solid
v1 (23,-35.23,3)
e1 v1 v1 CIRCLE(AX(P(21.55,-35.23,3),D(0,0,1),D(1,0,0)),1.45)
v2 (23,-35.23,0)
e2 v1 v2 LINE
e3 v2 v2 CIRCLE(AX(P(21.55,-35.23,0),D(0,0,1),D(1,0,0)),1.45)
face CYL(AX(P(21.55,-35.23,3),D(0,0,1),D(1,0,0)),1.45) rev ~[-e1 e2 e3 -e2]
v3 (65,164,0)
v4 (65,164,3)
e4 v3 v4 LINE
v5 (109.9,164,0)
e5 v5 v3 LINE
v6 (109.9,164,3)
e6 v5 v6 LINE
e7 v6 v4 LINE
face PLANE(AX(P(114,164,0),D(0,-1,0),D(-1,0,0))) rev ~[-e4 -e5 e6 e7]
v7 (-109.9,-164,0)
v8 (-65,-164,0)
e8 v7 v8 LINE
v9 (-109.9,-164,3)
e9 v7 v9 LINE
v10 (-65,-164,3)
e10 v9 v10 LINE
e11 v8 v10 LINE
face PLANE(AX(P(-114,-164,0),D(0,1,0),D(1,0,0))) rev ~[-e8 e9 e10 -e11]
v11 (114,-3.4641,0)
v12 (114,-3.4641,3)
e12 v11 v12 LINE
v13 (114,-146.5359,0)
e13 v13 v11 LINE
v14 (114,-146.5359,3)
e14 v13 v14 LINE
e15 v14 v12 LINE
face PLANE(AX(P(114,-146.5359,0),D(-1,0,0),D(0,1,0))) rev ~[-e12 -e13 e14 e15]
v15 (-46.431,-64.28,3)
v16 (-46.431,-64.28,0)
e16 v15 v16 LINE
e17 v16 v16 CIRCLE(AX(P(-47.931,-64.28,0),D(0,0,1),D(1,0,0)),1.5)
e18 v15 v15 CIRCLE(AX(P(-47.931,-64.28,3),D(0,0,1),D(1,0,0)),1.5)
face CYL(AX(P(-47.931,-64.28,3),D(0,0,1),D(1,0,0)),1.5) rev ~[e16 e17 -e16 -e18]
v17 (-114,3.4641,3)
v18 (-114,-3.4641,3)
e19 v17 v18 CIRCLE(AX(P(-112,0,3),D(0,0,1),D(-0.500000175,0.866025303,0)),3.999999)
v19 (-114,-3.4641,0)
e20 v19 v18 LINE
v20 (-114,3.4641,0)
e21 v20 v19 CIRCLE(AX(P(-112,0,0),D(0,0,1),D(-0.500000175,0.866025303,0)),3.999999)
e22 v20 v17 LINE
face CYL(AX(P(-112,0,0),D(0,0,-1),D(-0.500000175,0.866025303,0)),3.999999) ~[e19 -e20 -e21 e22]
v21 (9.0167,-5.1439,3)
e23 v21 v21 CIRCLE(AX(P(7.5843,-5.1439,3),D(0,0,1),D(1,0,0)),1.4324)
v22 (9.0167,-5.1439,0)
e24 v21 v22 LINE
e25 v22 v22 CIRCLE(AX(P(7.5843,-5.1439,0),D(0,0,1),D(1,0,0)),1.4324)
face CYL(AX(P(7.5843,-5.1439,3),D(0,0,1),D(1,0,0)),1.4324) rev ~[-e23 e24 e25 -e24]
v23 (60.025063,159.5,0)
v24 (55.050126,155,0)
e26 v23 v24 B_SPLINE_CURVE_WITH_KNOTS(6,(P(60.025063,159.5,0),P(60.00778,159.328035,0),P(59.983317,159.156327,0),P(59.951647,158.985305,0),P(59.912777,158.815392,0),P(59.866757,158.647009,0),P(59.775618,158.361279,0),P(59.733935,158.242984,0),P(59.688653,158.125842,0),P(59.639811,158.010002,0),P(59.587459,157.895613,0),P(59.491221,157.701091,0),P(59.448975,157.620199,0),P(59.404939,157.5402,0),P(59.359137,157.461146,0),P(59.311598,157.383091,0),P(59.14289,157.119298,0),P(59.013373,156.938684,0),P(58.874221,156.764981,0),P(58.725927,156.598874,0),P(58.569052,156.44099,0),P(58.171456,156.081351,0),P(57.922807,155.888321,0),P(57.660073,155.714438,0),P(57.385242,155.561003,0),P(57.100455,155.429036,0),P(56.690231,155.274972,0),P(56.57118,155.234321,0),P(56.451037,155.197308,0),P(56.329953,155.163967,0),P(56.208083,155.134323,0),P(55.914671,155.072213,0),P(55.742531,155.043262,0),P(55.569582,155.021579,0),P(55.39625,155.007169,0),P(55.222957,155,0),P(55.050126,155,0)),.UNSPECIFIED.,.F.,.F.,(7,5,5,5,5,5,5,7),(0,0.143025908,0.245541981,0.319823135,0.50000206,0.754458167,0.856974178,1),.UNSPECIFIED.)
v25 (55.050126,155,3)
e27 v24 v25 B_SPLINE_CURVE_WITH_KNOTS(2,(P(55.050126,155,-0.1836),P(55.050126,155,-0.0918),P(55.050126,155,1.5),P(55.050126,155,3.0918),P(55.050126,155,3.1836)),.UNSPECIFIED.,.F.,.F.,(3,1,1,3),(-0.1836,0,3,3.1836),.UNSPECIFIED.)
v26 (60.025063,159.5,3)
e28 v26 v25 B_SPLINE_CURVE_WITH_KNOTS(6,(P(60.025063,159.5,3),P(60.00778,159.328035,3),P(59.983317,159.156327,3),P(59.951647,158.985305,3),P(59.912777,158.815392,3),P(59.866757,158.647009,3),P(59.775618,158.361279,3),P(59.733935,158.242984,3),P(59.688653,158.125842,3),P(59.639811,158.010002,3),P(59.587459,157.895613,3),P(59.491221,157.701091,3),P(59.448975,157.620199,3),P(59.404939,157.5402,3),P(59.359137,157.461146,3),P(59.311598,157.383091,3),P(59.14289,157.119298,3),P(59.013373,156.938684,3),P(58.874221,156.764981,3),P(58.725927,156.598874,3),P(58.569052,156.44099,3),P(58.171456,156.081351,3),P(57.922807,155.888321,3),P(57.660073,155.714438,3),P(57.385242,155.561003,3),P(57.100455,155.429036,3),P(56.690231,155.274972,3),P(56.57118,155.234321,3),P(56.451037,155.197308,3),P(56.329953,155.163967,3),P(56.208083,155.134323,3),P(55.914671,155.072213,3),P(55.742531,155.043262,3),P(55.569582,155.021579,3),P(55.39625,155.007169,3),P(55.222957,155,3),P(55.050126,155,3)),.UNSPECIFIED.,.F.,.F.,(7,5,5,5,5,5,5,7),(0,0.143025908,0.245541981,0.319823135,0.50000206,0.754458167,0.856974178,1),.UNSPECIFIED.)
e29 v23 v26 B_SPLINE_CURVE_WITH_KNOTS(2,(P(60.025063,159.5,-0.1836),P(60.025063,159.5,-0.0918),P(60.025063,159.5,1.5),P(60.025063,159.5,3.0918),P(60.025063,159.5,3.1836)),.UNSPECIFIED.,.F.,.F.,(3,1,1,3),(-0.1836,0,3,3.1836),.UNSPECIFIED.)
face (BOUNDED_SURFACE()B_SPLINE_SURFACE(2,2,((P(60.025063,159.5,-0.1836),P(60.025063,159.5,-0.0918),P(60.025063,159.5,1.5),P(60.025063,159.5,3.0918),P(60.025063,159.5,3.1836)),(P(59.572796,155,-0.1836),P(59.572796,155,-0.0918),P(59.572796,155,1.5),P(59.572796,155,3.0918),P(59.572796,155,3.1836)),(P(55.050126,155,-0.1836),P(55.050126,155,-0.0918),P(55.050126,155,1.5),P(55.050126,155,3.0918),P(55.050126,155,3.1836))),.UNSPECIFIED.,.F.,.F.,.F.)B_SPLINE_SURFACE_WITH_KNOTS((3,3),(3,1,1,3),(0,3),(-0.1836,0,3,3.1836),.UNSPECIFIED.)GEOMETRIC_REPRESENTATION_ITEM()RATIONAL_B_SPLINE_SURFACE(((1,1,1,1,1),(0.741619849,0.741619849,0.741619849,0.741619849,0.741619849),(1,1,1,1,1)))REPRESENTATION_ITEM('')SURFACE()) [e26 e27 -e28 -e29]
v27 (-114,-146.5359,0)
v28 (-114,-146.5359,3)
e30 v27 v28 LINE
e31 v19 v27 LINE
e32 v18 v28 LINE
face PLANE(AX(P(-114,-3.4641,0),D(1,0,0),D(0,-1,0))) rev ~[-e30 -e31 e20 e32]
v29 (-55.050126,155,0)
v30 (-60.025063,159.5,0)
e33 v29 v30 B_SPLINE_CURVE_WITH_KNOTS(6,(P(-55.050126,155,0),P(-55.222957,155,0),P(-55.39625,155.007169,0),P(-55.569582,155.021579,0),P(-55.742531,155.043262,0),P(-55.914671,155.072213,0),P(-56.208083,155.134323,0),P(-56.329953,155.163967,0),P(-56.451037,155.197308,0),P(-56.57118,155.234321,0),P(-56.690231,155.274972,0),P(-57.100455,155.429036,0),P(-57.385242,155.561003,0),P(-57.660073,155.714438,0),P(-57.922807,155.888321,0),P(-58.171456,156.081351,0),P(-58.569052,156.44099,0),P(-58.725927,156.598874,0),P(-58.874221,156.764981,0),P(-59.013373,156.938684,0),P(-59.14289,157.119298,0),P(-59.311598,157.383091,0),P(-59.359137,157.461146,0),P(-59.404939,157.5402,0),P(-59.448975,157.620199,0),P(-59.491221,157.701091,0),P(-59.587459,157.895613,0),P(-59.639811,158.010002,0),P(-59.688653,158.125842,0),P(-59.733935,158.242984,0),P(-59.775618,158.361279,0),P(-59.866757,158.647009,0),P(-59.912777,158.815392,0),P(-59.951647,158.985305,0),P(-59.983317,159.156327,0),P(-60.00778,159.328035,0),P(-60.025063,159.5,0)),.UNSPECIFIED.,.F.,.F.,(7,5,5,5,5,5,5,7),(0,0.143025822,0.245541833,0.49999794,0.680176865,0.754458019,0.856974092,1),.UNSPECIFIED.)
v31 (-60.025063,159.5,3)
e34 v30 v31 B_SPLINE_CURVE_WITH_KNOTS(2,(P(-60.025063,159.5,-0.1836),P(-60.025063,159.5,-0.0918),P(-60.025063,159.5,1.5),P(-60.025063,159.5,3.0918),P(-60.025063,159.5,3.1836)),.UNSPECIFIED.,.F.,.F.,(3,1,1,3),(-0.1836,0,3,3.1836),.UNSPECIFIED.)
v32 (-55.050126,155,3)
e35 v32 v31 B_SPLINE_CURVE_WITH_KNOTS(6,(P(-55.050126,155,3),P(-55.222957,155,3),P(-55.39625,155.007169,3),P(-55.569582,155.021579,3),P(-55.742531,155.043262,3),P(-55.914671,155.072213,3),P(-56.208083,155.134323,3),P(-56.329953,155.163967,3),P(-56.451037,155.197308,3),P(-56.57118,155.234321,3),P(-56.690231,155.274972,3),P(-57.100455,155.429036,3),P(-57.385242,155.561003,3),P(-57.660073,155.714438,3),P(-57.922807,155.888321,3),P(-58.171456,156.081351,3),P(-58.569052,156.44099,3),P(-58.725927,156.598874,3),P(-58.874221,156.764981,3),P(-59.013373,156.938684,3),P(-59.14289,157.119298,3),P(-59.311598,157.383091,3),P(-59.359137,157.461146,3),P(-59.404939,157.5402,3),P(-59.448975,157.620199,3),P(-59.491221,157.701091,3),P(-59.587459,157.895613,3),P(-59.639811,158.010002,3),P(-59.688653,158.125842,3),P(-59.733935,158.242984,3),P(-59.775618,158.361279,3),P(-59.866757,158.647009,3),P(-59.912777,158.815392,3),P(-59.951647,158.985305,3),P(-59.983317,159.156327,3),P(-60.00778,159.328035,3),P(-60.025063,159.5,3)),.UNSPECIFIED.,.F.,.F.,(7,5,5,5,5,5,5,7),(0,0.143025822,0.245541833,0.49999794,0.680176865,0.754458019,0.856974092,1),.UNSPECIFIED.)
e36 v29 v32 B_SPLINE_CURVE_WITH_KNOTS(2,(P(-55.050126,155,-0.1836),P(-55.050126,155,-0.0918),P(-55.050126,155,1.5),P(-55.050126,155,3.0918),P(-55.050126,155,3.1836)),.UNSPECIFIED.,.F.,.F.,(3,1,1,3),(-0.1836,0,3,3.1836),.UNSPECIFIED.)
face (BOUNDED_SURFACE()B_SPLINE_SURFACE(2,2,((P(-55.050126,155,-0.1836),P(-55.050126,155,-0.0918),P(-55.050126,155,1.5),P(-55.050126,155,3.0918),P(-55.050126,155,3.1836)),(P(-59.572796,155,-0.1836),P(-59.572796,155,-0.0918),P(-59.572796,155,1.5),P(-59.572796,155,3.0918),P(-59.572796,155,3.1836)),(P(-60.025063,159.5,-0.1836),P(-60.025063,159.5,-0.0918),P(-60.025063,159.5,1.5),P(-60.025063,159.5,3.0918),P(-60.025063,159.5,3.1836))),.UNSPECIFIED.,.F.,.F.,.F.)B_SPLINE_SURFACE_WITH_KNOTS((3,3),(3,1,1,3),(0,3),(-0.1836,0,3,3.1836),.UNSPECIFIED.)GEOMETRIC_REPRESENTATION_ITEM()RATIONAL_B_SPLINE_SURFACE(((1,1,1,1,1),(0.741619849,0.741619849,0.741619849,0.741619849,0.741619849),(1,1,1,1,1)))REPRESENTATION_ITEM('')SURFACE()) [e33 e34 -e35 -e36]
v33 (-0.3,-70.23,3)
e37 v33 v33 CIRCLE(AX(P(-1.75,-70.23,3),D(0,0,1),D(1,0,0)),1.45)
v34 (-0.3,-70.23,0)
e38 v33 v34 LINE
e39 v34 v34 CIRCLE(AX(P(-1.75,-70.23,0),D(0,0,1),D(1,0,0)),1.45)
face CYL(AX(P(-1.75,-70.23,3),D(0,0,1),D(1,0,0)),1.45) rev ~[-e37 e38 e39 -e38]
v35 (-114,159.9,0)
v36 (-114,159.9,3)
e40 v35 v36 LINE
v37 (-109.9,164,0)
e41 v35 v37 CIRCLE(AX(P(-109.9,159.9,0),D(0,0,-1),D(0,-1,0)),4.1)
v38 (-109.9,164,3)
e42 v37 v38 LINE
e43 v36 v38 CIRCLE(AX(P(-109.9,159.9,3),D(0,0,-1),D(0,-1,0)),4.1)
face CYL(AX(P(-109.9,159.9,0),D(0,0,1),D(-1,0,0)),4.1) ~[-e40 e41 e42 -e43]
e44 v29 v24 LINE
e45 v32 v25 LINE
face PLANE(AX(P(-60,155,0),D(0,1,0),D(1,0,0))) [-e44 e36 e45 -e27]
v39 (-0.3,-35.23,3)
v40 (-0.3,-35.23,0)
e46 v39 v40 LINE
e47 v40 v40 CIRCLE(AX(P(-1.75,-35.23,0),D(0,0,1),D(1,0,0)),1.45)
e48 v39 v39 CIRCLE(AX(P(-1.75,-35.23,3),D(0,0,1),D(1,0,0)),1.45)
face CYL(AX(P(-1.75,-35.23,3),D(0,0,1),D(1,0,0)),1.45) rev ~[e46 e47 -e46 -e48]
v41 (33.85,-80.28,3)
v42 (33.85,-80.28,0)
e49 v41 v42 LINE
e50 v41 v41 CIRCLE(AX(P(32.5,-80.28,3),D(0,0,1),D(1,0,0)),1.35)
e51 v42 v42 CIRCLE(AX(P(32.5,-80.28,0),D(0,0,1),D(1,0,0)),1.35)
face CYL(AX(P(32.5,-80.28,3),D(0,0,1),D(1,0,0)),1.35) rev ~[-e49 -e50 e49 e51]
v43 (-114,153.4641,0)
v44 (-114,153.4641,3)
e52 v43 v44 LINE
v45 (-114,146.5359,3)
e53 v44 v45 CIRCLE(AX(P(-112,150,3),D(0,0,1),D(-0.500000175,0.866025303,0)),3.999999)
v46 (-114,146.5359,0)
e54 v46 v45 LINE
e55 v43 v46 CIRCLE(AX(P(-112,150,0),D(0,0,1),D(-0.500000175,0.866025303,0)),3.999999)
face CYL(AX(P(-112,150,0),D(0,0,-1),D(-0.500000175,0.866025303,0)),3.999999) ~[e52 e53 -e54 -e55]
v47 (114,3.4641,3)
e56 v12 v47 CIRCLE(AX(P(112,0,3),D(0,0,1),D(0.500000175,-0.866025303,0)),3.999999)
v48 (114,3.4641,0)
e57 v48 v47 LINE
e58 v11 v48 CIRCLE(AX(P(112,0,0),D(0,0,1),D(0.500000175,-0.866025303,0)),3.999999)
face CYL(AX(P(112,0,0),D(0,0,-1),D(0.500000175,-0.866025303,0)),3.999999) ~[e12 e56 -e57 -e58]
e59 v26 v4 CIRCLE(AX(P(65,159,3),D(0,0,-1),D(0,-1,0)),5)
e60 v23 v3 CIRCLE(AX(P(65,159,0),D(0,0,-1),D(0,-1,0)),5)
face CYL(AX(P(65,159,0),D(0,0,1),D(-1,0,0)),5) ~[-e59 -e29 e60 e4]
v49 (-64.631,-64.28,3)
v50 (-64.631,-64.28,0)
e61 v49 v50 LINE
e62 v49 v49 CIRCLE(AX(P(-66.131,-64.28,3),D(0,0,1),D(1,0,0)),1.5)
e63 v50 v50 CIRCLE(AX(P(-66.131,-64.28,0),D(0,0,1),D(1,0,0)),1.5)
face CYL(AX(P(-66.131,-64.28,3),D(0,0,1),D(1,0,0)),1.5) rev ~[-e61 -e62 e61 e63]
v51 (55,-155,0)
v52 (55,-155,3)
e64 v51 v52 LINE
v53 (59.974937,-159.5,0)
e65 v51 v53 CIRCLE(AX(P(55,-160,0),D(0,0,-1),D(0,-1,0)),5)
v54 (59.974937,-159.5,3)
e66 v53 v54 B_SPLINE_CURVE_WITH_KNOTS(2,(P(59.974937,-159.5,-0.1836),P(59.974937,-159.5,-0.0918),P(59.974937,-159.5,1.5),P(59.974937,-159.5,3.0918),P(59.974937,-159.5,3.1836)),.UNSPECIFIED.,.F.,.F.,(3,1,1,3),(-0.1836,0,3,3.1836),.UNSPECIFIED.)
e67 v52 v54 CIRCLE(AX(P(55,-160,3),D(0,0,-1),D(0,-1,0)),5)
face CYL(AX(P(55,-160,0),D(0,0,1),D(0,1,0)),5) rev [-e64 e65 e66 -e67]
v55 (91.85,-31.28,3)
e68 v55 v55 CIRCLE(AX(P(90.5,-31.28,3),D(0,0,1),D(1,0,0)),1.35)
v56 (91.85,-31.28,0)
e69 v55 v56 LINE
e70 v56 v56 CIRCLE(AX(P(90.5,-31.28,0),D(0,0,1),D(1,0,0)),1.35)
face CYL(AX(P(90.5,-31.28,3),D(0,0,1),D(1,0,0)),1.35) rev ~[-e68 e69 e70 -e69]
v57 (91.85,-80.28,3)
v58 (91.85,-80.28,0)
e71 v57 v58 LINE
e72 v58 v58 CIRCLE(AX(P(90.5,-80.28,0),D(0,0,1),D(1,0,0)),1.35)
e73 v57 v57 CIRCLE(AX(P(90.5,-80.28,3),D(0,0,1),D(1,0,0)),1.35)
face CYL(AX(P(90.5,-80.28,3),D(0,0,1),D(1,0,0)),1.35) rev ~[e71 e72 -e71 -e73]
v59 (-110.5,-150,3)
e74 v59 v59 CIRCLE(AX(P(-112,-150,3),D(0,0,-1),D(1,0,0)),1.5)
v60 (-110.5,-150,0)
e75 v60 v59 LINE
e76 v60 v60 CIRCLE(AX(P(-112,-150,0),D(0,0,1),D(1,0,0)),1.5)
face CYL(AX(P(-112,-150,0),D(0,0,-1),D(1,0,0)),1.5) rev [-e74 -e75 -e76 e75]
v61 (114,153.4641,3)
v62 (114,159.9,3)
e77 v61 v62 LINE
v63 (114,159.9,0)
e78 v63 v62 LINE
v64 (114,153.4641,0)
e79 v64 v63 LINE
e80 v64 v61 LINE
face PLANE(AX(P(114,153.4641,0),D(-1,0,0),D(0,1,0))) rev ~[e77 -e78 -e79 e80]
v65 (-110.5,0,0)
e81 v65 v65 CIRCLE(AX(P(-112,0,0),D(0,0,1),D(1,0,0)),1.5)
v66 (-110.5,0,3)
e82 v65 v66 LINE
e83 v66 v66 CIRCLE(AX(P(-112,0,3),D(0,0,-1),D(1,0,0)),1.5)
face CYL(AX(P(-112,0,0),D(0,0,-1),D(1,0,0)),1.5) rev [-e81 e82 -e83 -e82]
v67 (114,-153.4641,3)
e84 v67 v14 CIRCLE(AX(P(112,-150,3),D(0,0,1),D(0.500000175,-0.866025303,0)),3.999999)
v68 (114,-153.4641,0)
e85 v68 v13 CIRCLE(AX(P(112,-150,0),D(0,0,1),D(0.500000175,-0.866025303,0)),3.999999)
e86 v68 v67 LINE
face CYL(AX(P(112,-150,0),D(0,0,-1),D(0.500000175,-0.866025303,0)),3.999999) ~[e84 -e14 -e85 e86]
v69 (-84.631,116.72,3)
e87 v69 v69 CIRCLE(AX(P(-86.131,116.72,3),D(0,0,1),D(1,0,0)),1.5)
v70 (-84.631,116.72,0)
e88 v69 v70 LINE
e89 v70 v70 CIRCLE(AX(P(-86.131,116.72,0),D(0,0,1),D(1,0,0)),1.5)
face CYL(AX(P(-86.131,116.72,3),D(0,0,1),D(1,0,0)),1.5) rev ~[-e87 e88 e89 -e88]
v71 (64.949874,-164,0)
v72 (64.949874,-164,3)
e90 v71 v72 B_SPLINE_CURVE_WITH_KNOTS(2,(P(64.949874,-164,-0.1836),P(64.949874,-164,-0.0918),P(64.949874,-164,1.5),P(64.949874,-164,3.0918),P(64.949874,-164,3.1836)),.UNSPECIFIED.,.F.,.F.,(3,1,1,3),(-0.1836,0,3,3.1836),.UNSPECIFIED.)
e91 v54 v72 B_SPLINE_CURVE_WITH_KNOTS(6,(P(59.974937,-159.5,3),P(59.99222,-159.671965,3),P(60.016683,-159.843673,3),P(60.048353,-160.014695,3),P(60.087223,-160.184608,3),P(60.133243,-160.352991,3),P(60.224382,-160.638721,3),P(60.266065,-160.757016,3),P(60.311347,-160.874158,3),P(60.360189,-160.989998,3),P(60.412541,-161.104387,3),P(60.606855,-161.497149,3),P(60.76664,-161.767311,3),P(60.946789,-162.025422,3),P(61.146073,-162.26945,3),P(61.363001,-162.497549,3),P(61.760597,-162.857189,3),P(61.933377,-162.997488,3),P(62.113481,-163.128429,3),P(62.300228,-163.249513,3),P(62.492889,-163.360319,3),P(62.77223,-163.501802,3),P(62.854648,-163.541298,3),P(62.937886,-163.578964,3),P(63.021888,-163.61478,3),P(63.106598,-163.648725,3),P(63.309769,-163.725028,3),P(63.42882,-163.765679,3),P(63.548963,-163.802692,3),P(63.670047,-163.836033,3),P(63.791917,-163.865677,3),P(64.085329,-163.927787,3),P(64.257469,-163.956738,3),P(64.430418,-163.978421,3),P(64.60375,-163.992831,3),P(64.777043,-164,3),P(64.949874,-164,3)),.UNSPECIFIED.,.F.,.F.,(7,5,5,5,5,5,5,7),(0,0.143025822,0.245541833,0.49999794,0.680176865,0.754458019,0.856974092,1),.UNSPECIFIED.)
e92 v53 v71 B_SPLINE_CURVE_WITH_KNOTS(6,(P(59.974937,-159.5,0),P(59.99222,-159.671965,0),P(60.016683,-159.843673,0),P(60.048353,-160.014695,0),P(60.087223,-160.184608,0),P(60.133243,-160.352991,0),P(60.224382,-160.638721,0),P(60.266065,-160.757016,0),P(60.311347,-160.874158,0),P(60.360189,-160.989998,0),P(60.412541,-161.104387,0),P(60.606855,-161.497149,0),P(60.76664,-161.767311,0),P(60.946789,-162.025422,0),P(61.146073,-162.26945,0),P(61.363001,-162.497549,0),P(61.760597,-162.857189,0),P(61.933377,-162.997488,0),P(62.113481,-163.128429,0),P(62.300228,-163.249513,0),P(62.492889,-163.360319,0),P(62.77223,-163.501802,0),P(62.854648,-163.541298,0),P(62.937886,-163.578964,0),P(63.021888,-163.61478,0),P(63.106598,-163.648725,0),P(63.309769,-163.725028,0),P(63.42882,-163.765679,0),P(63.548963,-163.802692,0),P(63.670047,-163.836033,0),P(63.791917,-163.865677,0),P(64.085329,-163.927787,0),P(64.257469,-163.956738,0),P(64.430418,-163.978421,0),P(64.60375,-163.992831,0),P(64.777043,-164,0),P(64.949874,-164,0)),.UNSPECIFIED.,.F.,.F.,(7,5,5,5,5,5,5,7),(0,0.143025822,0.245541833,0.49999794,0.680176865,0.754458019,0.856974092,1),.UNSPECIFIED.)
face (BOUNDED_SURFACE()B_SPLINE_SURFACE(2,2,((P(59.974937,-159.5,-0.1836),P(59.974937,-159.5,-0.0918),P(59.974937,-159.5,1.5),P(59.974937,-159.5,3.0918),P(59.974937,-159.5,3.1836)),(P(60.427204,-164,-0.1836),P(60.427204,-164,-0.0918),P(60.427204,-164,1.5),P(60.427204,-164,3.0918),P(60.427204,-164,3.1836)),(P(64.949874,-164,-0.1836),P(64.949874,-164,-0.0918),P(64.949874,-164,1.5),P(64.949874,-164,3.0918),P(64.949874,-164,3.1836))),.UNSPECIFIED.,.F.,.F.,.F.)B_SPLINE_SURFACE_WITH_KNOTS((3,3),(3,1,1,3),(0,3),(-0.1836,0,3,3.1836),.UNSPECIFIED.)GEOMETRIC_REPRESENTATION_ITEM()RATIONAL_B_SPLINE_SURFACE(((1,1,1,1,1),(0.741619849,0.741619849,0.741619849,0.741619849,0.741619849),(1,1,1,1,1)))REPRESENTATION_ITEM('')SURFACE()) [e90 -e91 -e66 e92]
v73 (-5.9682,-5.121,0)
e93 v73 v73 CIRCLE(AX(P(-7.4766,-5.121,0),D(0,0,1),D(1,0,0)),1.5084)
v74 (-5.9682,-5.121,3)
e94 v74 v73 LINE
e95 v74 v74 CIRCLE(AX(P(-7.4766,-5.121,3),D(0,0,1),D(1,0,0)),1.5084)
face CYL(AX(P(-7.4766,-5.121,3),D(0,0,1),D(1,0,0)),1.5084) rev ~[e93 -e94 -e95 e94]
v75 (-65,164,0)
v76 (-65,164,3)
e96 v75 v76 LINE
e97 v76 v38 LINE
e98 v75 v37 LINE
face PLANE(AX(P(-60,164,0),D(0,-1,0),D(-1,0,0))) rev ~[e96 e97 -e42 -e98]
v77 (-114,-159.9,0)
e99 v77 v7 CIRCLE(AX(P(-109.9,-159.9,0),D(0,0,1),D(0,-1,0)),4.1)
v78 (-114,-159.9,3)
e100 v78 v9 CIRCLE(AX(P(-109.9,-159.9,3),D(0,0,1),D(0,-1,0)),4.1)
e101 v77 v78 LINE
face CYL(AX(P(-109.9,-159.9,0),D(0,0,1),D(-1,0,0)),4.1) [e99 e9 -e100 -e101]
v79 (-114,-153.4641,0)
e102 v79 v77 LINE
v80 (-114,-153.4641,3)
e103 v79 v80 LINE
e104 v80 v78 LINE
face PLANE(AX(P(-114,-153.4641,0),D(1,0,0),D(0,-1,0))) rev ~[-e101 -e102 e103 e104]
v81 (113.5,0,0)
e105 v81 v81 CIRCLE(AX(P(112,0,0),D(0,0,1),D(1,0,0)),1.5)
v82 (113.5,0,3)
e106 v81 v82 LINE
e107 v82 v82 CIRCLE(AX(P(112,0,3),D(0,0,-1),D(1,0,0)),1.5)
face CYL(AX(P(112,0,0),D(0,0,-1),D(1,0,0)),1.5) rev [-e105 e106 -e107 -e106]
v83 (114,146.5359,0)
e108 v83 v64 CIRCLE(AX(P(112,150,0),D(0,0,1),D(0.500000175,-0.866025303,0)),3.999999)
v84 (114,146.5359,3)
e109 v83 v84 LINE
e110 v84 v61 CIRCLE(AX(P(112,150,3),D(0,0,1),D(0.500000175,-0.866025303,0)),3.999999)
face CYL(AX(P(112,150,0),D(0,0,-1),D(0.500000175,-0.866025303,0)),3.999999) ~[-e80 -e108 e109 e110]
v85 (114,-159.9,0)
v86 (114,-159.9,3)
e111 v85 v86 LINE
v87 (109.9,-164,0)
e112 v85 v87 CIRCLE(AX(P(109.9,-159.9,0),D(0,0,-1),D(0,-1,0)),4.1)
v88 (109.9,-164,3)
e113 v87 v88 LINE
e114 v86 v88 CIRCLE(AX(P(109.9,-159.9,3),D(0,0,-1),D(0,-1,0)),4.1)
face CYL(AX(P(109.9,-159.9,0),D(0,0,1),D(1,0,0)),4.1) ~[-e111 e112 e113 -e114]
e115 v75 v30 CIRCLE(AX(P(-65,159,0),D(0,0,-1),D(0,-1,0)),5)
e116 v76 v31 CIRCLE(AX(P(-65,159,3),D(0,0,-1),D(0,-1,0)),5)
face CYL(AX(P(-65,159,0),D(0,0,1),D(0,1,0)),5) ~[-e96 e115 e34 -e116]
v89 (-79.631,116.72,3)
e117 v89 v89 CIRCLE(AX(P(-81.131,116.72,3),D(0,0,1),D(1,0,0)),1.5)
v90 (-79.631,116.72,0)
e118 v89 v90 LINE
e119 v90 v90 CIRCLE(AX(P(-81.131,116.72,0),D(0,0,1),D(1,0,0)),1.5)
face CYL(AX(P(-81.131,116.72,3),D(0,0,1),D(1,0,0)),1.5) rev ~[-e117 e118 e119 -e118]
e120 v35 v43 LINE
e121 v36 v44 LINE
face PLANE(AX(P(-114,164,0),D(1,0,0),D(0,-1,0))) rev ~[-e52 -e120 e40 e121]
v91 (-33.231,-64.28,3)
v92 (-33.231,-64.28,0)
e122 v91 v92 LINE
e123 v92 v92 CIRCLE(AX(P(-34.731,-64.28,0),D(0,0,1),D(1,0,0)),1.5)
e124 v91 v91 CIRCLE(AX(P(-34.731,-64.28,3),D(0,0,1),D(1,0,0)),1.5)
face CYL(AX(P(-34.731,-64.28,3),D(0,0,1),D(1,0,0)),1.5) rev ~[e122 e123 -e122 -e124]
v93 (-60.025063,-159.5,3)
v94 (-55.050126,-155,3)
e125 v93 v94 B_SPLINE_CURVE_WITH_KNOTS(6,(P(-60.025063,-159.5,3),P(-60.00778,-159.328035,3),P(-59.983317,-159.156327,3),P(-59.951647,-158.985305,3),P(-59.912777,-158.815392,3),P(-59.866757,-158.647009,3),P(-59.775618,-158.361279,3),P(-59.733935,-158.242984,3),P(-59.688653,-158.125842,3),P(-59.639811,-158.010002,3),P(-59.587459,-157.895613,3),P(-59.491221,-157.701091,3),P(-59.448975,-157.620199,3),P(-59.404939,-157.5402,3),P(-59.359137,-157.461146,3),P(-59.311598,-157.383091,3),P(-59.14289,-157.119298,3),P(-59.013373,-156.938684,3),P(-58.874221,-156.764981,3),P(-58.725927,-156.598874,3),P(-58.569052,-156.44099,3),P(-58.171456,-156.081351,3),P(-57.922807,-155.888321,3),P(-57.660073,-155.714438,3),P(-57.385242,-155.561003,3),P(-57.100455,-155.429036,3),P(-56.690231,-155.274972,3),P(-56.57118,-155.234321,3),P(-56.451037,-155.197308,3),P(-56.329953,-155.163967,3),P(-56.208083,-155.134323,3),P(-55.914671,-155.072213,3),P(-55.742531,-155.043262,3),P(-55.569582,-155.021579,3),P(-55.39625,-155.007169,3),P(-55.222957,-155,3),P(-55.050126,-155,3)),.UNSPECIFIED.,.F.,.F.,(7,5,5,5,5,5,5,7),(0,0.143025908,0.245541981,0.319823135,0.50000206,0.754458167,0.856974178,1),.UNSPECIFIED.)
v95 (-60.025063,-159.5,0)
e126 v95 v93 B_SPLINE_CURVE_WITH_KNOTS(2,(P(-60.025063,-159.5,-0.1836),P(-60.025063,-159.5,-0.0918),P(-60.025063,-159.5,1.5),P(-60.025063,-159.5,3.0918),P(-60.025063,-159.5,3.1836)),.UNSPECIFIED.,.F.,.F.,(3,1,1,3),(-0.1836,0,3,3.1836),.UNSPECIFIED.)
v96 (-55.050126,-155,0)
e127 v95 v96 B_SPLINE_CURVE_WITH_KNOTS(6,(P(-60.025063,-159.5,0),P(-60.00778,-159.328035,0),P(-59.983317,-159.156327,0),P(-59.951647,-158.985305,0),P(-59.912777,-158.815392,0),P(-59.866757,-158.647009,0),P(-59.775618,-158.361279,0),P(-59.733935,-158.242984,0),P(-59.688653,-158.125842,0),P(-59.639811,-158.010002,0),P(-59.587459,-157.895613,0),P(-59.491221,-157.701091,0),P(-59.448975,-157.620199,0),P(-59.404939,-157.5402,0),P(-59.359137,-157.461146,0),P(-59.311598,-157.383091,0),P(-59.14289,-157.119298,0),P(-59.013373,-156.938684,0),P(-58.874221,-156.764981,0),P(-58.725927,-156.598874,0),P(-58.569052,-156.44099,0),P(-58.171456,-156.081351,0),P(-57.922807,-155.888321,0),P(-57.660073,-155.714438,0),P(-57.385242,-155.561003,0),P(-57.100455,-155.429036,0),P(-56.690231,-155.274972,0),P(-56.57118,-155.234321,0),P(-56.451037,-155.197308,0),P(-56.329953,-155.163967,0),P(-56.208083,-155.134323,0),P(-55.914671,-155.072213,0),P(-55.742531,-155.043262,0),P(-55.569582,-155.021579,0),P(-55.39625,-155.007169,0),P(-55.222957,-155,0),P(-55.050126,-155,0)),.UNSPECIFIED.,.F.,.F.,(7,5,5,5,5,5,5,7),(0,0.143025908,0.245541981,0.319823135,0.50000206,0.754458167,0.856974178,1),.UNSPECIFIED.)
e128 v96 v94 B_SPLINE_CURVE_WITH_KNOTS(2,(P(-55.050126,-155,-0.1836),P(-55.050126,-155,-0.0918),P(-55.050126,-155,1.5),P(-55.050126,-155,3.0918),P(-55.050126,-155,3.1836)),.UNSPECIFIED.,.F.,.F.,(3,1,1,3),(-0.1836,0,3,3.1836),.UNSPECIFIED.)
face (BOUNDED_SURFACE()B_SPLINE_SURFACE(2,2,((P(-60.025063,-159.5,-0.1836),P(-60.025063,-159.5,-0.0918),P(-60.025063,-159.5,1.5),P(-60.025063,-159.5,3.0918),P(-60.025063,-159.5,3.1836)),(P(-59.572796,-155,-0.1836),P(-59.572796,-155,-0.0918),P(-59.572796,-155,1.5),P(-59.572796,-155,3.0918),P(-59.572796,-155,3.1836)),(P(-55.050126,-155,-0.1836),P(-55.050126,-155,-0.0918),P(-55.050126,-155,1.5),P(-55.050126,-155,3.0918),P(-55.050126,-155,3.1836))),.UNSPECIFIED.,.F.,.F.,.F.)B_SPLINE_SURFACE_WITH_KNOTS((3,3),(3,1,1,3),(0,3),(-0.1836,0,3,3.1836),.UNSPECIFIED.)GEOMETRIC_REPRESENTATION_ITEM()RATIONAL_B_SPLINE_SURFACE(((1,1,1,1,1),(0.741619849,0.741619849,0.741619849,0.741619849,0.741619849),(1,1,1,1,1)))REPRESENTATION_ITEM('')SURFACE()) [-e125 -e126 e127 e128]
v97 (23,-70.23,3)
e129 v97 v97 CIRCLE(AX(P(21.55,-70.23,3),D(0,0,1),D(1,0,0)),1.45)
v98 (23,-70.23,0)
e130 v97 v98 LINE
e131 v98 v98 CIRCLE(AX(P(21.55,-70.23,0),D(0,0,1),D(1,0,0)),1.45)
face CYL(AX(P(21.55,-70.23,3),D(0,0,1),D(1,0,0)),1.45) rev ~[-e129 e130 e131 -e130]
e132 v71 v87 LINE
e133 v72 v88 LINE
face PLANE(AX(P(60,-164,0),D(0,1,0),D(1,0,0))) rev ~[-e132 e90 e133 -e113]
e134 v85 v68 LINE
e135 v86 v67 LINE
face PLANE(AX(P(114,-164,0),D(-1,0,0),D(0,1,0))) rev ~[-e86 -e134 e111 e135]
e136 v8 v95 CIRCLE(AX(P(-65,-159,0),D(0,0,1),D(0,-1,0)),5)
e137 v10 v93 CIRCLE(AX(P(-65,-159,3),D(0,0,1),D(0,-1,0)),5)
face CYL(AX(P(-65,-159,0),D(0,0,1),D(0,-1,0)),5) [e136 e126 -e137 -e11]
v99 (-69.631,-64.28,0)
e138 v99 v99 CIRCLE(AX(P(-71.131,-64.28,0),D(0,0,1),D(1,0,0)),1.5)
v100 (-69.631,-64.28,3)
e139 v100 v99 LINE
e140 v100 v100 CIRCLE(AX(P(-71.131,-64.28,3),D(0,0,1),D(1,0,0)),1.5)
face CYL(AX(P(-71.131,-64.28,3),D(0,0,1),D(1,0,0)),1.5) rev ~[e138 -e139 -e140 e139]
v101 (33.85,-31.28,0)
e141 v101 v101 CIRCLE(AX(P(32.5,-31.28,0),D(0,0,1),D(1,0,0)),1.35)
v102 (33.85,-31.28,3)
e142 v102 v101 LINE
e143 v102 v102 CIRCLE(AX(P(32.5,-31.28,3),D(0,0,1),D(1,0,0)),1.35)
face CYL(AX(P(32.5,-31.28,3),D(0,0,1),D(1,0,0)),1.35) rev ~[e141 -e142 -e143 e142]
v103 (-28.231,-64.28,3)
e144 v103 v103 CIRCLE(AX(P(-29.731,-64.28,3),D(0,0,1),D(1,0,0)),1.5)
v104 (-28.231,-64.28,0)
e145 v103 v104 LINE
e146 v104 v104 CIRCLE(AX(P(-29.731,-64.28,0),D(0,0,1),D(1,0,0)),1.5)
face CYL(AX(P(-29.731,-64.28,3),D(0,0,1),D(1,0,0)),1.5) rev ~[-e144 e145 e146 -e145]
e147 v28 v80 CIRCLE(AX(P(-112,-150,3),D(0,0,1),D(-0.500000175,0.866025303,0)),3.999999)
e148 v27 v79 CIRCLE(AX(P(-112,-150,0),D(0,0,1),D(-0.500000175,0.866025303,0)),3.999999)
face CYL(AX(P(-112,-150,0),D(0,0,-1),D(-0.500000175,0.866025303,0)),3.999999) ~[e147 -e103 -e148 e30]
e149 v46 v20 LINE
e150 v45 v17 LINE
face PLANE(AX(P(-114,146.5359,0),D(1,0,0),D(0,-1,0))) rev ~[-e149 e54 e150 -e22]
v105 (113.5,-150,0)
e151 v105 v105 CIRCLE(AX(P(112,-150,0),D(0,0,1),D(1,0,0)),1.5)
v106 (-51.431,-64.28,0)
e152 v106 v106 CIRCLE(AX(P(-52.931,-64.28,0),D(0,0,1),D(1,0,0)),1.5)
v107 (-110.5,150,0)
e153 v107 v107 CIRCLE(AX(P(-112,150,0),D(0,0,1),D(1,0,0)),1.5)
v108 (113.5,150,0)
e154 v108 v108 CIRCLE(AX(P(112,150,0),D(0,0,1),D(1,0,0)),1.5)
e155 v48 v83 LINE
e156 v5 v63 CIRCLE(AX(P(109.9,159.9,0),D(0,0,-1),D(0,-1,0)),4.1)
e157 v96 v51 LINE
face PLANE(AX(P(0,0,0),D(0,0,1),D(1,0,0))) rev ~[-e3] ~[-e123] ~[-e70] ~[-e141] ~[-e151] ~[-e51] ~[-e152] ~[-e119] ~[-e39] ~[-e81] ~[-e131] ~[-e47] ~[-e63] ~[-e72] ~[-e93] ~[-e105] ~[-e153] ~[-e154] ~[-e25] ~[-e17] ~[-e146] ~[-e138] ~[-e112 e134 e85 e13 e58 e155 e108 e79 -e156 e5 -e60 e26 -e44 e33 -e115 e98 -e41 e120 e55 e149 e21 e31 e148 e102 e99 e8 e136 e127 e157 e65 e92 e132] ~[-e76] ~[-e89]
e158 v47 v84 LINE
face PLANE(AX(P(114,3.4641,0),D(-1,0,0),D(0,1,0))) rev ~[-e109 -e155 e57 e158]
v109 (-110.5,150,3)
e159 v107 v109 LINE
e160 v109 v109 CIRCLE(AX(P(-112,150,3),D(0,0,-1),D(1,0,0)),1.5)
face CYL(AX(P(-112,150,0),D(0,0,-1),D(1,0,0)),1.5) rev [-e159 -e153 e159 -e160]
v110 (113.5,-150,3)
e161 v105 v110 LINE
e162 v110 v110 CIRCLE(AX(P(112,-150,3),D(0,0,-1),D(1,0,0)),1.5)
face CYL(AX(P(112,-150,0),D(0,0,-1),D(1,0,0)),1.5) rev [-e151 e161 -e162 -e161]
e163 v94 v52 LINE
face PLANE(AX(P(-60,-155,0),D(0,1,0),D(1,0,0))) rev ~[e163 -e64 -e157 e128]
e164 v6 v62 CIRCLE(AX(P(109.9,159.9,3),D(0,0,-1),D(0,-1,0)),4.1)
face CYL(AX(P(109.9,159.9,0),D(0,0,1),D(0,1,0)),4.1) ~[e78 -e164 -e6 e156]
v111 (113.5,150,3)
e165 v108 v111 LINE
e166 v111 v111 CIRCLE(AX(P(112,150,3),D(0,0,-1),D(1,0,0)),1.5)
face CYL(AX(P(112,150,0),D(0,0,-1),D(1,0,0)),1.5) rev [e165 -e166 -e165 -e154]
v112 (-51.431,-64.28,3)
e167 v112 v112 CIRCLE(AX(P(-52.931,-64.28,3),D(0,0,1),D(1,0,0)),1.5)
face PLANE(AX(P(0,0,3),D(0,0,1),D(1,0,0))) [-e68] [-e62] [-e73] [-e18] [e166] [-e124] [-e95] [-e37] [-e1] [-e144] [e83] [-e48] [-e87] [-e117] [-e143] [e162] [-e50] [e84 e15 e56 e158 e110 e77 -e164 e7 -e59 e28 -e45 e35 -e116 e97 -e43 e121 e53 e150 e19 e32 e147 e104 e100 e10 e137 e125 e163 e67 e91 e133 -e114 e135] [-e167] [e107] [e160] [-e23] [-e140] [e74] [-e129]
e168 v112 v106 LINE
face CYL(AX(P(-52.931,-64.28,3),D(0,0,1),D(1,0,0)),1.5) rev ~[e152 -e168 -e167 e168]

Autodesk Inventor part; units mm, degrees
ref_plane "YZ Plane" through (0, 0, 0) normal (1, 0, 0) x (0, 1, 0)
ref_plane "XZ Plane" through (0, 0, 0) normal (0, 1, 0) x (-1, 0, 0)
ref_plane "XY Plane" through (0, 0, 0) normal (0, 0, 1) x (1, 0, 0)
sketch "Sketch1" plane through (0, 0, 0) normal (0, 0, 1) x (1, 0, 0)
  line L0 (-114, -164) -> (114, -164)
  line L1 (114, 164) -> (-114, 164)
  line L2 (-114, -164) -> (114, 164) construction
  line L3 (114, -164) -> (-114, 164) construction
  line L4 (-112, -150) -> (112, -150)
  line L5 (112, -150) -> (112, 150)
  line L6 (112, 150) -> (-112, 150)
  line L7 (-112, 150) -> (-112, -150)
  line L8 (-112, -150) -> (112, 150) construction
  line L9 (112, -150) -> (-112, 150) construction
  circle A0 centre (112, 150) radius 1.5
  arc A1 (114, 146.5359) -> (114, 153.4641) centre (112, 150) ccw
  line L10 (114, 153.4641) -> (114, 164)
  line L11 (0, -56.7016) -> (0, 56.7016)
  line L12 (-37.0034, 0) -> (37.0034, 0)
  circle A2 centre (-112, 150) radius 1.5
  arc A3 (-114, 153.4641) -> (-114, 146.5359) centre (-112, 150) ccw
  circle A4 centre (112, -150) radius 1.5
  arc A5 (114, -153.4641) -> (114, -146.5359) centre (112, -150) ccw
  arc A6 (-114, -146.5359) -> (-114, -153.4641) centre (-112, -150) ccw
  circle A7 centre (-112, -150) radius 1.5
  line L13 (-114, 164) -> (-114, 153.4641)
  line L14 (114, -164) -> (114, -153.4641)
  line L15 (-114, -153.4641) -> (-114, -164)
  circle A8 centre (112, 0) radius 1.5
  arc A9 (114, -3.4641) -> (114, 3.4641) centre (112, 0) ccw
  line L16 (114, -146.5359) -> (114, -3.4641)
  line L17 (114, 3.4641) -> (114, 146.5359)
  circle A10 centre (-112, 0) radius 1.5
  arc A11 (-114, 3.4641) -> (-114, -3.4641) centre (-112, 0) ccw
  line L18 (-114, 146.5359) -> (-114, 3.4641)
  line L19 (-114, -3.4641) -> (-114, -146.5359)
  line L20 (-60, 164) -> (60, 164)
  line L21 (60, 164) -> (-60, 164)
  line L22 (-60, 164) -> (-60, 155)
  line L23 (-60, 155) -> (60, 155)
  line L24 (60, 155) -> (60, 164)
  line L25 (-60, -164) -> (-60, -155)
  line L26 (-60, -155) -> (60, -155)
  line L27 (60, -155) -> (60, -164)
  point P0 (0, 0)
  point P1 (0, 164)
  dimension "d0" = 228
  dimension "d1" = 328
  dimension "d2" = 224
  dimension "d3" = 300
  dimension "d4" = 3
  dimension "d10" = 3
  dimension "d11" = 8
  dimension "d12" = 120
  dimension "d13" = 120
  dimension "d14" = 9
extrude "Extrusion1" add sketch "Sketch1" along normal blind 3 contours L15 A6 L19 A11 L18 A3 L13 L1 L22 L23 L24 L10 A1 L17 A9 L16 A5 L14 L0 L27 L26 L25 | A7 L7 A10 A2 L6 A0 L5 A8 A4 L4
fillet "Fillet1" radius 4.1 4 edges at (114, 164, 1.5) (114, -164, 1.5) (-114, 164, 1.5) (-114, -164, 1.5)
fillet "Fillet2" radius 5 8 edges at (-60, 164, 1.5) (60, 164, 1.5) (60, 155, 1.5) (-60, 155, 1.5) (-60, -164, 1.5) (-60, -155, 1.5) (60, -155, 1.5) (60, -164, 1.5)
sketch "Sketch3" plane through (0, 0, 3) normal (0, 0, 1) x (1, 0, 0)
  circle A0 centre (-66.131, -64.28) radius 1.5 projected
  circle A1 centre (-71.131, -64.28) radius 1.5 projected
  circle A2 centre (-52.931, -64.28) radius 1.5 projected
  circle A3 centre (-47.931, -64.28) radius 1.5 projected
  circle A4 centre (-34.731, -64.28) radius 1.5 projected
  circle A5 centre (-29.731, -64.28) radius 1.5 projected
  circle A6 centre (-1.75, -35.23) radius 1.45 projected
  circle A7 centre (21.55, -35.23) radius 1.45 projected
  circle A8 centre (-1.75, -70.23) radius 1.45 projected
  circle A9 centre (21.55, -70.23) radius 1.45 projected
  circle A10 centre (32.5, -80.28) radius 1.35 projected
  circle A11 centre (32.5, -31.28) radius 1.35 projected
  circle A12 centre (90.5, -80.28) radius 1.35 projected
  circle A13 centre (90.5, -31.28) radius 1.35 projected
  circle A14 centre (-86.131, 116.72) radius 1.5 projected
  circle A15 centre (-81.131, 116.72) radius 1.5 projected
  circle A16 centre (-7.4766, -5.121) radius 1.5084 projected
  circle A17 centre (7.5843, -5.1439) radius 1.4324 projected
  point P0 (0, 0)
extrude "Extrusion3" cut sketch "Sketch3" against normal blind 3
properties part number "Control layer"
